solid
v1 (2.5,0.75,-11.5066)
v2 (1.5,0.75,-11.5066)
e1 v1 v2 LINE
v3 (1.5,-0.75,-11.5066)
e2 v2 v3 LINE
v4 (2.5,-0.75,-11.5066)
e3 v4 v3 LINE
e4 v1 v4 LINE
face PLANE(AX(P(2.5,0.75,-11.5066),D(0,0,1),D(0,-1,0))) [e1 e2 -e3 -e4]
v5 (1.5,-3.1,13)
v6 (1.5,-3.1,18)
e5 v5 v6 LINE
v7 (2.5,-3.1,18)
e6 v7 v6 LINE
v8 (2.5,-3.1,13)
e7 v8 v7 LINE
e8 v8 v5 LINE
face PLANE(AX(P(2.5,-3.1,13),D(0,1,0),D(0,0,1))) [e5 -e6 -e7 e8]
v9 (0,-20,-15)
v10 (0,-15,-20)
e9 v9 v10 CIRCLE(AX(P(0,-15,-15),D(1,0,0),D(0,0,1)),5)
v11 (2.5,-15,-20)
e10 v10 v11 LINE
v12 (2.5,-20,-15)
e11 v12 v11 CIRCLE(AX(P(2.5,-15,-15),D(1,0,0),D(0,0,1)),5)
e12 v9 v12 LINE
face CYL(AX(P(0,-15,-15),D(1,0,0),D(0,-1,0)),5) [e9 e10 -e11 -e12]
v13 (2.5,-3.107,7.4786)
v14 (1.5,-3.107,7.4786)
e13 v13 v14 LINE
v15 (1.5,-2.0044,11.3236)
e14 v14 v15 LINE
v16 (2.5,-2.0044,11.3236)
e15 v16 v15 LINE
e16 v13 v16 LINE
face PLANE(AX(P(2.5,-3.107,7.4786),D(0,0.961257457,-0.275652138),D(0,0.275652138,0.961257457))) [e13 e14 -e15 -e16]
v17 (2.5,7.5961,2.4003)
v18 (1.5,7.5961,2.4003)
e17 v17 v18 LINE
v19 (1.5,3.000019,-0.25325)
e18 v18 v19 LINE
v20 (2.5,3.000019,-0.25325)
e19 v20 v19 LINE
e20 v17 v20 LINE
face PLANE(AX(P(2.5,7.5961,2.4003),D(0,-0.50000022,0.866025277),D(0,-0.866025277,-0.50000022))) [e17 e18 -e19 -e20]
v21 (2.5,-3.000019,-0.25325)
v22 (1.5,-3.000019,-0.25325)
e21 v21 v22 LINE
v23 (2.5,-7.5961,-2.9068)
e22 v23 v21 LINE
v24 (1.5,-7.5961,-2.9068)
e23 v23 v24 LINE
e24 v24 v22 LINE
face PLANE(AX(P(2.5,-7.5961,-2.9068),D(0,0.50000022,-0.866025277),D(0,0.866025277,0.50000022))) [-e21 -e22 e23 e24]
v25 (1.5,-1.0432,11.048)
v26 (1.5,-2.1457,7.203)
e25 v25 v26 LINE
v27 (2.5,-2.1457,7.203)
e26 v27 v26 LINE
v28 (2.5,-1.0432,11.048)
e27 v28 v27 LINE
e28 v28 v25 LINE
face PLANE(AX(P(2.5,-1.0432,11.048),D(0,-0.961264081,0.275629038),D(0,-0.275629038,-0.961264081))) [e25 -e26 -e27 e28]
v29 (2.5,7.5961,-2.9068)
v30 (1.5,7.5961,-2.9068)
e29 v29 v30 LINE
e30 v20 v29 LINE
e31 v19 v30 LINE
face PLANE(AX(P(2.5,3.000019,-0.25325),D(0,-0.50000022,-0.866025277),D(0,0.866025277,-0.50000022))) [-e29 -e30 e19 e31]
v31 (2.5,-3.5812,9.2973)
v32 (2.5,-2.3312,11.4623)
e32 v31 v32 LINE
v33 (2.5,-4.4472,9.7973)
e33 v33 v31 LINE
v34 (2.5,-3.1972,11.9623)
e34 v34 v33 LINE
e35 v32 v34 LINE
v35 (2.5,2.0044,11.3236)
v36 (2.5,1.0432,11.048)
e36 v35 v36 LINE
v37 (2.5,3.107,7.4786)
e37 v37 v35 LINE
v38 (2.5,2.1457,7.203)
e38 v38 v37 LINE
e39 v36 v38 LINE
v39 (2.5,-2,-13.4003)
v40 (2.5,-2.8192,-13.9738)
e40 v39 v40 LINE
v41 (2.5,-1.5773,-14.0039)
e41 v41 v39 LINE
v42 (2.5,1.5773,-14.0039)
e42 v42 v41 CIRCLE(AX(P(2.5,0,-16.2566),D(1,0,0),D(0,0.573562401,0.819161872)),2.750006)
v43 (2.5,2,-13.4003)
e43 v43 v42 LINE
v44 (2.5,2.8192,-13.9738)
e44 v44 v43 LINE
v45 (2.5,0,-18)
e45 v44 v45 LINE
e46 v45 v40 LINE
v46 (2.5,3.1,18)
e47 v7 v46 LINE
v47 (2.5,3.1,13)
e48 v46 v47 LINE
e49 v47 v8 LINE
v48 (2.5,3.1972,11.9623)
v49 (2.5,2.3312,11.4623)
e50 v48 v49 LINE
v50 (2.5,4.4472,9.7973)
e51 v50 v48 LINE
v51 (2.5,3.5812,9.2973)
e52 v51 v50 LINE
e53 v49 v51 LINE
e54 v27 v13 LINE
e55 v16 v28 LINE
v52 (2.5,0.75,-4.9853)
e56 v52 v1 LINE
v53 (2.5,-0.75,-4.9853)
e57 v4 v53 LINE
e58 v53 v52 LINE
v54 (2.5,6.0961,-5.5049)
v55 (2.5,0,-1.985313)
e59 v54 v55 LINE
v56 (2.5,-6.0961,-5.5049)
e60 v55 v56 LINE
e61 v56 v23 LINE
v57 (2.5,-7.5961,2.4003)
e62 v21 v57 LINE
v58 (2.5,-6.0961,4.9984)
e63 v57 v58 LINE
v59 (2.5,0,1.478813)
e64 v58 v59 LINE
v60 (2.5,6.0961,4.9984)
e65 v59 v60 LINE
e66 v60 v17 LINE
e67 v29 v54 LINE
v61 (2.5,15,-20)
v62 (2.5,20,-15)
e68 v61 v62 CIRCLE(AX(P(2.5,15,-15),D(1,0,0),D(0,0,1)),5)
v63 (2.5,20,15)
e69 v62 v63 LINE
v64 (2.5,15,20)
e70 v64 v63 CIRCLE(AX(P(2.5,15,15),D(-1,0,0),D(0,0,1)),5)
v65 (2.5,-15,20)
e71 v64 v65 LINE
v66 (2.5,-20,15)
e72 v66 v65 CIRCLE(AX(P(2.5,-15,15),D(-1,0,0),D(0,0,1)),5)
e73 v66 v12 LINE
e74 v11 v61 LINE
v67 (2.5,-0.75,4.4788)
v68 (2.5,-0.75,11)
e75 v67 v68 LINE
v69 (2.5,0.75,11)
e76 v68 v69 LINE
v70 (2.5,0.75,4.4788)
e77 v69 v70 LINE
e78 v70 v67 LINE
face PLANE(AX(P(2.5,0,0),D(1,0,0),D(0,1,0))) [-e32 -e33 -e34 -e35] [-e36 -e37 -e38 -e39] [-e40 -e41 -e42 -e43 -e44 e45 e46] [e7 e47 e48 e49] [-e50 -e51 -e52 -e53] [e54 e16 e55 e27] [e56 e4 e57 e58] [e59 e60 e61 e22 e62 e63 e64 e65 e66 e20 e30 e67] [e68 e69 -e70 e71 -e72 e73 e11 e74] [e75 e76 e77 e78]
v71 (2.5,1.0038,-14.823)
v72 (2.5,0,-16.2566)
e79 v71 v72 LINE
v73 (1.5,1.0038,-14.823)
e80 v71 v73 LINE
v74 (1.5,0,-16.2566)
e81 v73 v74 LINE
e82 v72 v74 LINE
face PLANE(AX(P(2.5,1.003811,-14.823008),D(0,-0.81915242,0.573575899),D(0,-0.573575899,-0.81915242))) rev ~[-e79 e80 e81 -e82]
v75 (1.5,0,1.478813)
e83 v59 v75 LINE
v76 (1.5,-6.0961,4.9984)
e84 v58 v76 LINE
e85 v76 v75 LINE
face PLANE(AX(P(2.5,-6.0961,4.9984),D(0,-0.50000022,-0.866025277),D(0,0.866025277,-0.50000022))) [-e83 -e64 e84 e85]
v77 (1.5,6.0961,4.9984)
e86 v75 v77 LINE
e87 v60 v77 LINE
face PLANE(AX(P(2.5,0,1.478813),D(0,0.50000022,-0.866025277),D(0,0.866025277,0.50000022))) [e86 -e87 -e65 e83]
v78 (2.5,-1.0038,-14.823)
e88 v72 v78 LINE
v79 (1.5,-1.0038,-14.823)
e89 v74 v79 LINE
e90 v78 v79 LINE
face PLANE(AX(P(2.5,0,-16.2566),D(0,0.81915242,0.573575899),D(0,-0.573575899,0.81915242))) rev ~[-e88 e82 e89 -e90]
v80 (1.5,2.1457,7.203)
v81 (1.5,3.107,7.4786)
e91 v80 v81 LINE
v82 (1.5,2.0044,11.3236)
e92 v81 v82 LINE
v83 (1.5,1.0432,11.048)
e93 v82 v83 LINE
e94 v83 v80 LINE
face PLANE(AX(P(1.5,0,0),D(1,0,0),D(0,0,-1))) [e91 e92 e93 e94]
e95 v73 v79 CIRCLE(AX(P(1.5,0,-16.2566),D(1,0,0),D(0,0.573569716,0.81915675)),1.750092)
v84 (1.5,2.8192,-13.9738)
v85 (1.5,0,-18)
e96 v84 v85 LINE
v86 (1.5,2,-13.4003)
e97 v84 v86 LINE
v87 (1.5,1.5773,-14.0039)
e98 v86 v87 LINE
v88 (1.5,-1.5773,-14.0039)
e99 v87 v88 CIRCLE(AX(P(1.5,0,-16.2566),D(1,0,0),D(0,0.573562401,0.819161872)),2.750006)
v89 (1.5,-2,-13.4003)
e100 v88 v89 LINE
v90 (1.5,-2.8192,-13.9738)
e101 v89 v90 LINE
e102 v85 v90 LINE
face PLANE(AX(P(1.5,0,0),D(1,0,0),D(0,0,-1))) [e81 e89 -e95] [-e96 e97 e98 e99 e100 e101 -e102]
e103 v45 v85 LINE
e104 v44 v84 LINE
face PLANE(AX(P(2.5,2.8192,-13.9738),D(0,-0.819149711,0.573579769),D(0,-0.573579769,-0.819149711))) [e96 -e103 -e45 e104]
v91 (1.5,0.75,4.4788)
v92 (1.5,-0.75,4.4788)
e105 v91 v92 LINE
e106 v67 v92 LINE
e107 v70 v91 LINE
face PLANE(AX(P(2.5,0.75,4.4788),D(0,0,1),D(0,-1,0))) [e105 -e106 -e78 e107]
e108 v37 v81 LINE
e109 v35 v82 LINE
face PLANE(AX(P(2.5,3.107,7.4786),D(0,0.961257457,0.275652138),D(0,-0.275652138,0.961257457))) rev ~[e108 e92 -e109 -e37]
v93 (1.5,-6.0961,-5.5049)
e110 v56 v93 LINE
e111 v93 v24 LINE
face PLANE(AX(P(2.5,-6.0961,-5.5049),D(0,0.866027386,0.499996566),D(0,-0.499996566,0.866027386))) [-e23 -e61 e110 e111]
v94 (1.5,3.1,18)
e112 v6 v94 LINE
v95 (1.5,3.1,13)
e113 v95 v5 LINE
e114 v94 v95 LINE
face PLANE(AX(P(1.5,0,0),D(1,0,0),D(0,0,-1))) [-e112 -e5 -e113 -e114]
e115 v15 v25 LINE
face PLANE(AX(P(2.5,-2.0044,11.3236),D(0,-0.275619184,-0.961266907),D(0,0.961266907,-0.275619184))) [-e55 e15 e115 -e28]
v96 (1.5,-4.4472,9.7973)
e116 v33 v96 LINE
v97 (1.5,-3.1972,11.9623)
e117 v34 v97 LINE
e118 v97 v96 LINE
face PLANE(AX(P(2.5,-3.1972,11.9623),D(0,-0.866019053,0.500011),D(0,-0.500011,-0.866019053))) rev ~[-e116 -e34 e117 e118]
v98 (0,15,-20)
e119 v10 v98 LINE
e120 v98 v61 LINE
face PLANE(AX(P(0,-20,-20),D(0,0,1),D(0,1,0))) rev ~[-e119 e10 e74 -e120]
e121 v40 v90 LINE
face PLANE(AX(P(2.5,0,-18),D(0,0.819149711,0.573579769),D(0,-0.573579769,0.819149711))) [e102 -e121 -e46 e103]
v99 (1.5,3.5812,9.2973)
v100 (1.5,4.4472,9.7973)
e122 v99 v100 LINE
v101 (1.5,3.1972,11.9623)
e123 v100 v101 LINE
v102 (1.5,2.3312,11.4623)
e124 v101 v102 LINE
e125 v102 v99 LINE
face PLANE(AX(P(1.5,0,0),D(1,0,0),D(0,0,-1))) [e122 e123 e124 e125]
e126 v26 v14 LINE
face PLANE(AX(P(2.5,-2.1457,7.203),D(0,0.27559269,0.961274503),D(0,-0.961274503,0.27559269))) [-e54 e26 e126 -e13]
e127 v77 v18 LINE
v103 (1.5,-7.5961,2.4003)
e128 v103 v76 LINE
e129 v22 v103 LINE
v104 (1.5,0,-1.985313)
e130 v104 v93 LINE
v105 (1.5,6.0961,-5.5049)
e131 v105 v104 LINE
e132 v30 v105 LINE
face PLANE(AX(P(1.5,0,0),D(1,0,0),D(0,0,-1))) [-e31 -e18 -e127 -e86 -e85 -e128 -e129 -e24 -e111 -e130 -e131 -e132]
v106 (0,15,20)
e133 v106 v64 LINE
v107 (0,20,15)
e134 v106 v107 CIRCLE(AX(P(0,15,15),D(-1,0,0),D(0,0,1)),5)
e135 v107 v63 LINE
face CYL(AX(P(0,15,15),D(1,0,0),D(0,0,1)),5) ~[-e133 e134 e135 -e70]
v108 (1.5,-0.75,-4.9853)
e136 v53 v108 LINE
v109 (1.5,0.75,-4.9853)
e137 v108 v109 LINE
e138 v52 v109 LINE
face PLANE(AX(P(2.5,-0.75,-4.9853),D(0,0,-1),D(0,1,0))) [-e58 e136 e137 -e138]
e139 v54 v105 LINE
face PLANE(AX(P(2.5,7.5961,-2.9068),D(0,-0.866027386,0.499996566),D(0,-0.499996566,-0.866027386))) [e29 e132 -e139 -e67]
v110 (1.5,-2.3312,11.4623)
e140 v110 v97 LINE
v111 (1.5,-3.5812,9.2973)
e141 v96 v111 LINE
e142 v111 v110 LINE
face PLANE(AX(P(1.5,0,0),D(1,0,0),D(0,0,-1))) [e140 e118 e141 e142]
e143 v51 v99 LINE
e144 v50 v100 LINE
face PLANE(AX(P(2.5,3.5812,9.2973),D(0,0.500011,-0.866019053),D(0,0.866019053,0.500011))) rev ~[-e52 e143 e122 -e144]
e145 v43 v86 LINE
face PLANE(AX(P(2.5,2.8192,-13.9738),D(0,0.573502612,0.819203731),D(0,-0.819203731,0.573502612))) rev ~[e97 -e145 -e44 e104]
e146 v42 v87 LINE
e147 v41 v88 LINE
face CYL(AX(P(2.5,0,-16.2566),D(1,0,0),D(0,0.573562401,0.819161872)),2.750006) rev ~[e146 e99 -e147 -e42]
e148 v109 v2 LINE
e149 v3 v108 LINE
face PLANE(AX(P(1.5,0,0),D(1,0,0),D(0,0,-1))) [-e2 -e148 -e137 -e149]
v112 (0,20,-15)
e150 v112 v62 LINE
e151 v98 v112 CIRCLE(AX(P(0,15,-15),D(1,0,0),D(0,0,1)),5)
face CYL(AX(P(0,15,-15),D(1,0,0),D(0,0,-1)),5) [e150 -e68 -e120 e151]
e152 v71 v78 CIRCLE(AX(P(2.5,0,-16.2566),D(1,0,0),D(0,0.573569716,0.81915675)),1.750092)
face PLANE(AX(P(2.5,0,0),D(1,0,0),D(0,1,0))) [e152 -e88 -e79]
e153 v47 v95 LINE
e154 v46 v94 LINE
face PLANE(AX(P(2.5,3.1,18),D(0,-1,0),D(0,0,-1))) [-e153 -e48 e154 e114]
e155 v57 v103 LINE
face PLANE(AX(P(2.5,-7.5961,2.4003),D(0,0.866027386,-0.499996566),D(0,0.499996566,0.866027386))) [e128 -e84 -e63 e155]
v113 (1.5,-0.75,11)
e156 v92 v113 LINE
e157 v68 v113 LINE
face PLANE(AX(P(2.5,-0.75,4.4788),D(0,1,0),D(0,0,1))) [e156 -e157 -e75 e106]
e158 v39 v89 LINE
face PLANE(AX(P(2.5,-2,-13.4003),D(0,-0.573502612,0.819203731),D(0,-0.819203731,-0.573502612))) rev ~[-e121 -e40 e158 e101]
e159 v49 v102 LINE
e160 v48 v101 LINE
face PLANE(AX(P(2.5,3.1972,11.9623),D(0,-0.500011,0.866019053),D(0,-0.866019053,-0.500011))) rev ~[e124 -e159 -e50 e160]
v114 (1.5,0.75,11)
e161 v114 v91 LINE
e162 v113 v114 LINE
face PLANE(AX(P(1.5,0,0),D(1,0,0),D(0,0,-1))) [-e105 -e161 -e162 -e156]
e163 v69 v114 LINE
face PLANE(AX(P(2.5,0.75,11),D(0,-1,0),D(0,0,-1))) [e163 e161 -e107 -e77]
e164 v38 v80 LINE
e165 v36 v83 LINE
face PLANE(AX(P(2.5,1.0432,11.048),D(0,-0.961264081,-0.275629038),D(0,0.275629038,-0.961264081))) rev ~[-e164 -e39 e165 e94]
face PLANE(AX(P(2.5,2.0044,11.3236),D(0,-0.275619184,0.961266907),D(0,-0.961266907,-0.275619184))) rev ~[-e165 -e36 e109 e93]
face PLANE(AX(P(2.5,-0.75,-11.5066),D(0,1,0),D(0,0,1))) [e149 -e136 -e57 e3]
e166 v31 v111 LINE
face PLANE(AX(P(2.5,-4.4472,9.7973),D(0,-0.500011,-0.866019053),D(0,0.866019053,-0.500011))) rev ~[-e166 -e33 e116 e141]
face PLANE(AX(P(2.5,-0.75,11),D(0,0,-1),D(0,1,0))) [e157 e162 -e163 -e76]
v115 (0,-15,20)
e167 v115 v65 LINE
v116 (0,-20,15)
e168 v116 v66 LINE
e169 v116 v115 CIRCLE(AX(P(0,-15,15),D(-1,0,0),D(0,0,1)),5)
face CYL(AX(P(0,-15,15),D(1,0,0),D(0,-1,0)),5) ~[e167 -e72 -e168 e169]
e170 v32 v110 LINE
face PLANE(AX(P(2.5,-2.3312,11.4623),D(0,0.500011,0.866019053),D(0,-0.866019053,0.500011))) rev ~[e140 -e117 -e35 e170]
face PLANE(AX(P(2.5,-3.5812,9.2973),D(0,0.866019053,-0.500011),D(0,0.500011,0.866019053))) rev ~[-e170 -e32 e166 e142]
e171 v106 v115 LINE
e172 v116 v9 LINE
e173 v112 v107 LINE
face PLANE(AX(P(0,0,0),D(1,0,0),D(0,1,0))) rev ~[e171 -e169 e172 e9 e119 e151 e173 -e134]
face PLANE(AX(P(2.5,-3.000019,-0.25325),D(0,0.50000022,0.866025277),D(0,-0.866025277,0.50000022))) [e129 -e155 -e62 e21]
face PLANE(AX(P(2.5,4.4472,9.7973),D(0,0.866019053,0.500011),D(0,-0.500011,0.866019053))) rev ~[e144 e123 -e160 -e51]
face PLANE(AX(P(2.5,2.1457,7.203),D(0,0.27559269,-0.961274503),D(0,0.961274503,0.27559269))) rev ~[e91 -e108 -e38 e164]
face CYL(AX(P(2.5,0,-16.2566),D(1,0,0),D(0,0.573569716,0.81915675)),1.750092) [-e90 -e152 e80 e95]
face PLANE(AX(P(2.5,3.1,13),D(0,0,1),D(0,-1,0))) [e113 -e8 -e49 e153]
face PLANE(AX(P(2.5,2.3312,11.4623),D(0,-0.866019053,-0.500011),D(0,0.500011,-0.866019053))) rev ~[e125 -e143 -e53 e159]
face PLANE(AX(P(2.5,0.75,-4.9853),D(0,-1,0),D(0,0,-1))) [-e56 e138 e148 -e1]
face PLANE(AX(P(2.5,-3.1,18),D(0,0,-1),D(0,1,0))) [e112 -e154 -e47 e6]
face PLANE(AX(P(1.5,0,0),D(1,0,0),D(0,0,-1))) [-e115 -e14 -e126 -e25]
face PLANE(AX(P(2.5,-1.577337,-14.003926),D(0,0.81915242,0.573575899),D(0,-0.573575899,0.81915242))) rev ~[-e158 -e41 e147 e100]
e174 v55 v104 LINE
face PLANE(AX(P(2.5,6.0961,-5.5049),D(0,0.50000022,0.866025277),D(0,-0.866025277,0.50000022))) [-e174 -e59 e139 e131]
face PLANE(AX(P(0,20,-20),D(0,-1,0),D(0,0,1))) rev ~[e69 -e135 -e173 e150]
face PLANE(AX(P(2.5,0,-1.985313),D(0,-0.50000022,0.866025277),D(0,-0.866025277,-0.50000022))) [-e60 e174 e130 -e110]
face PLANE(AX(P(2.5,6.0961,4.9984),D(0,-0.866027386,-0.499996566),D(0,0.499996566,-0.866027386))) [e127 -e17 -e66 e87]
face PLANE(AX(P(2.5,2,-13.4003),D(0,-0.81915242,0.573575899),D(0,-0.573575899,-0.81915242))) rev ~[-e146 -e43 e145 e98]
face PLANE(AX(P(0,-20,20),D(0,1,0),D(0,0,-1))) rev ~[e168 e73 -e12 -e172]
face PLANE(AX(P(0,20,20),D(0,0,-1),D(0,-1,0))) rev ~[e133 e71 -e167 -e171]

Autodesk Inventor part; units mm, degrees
ref_plane "YZ Plane" through (0, 0, 0) normal (1, 0, 0) x (0, 1, 0)
ref_plane "XZ Plane" through (0, 0, 0) normal (0, 1, 0) x (-1, 0, 0)
ref_plane "XY Plane" through (0, 0, 0) normal (0, 0, 1) x (1, 0, 0)
sketch "Sketch1" plane through (0, 0, 0) normal (1, 0, 0) x (0, 1, 0)
  line L0 (-20, -20) -> (20, -20)
  line L1 (20, -20) -> (20, 20)
  line L2 (20, 20) -> (-20, 20)
  line L3 (-20, 20) -> (-20, -20)
  line L4 (-20, -20) -> (20, 20) construction
  line L5 (20, -20) -> (-20, 20) construction
  point P0 (0, 0)
  dimension "d1" = 40
  dimension "d2" = 40
extrude "Outline" add sketch "Sketch1" along normal blind 2.5
sketch "Sketch2" plane through (2.5, 0, 0) normal (1, 0, 0) x (0, 0, -1)
  line L0 (20, 20) -> (-20, 20) projected
  line L1 (20, -20) -> (20, 20) projected
  line L2 (-18, 3.1) -> (-13, 3.1)
  line L3 (-13, 3.1) -> (-13, -3.1)
  line L4 (-13, -3.1) -> (-18, -3.1)
  line L5 (-18, -3.1) -> (-18, 3.1)
  line L6 (-11, 0.75) -> (-4.4788, 0.75)
  line L7 (-4.4788, 0.75) -> (-4.4788, -0.75)
  line L8 (-4.4788, -0.75) -> (-11, -0.75)
  line L9 (-11, -0.75) -> (-11, 0.75)
  line L10 (13.9738, 2.8192) -> (18, 0)
  line L11 (18, 0) -> (13.9738, -2.8192)
  line L12 (13.9738, 2.8192) -> (13.4003, 2)
  line L13 (13.4003, 2) -> (16.2566, 0)
  line L14 (16.2566, 0) -> (13.4003, -2)
  line L15 (13.4003, -2) -> (13.9738, -2.8192)
  line L16 (-18, 0) -> (16.2566, 0) construction
  arc A0 (14.0039, 1.5773) -> (14.0039, -1.5773) centre (16.2566, 0) ccw
  arc A1 (14.823, 1.0038) -> (14.823, -1.0038) centre (16.2566, 0) ccw
  line L17 (4.9853, 0.75) -> (11.5066, 0.75)
  line L18 (11.5066, 0.75) -> (11.5066, -0.75)
  line L19 (11.5066, -0.75) -> (4.9853, -0.75)
  line L20 (4.9853, -0.75) -> (4.9853, 0.75)
  line L21 (-11.3236, 2.0044) -> (-11.048, 1.0432)
  line L22 (-11.048, 1.0432) -> (-7.203, 2.1457)
  line L23 (-7.203, 2.1457) -> (-7.4786, 3.107)
  line L24 (-7.4786, 3.107) -> (-11.3236, 2.0044)
  line L25 (-11.048, -1.0432) -> (-7.203, -2.1457)
  line L26 (-7.203, -2.1457) -> (-7.4786, -3.107)
  line L27 (-7.4786, -3.107) -> (-11.3236, -2.0044)
  line L28 (-11.3236, -2.0044) -> (-11.048, -1.0432)
  circle A2 centre (-16.5, 0) radius 5.5509 construction
  line L29 (-11.9623, 3.1972) -> (-11.4623, 2.3312)
  line L30 (-11.4623, 2.3312) -> (-9.2973, 3.5812)
  line L31 (-9.2973, 3.5812) -> (-9.7973, 4.4472)
  line L32 (-9.7973, 4.4472) -> (-11.9623, 3.1972)
  line L33 (-11.4623, -2.3312) -> (-11.9623, -3.1972)
  line L34 (-11.9623, -3.1972) -> (-9.7973, -4.4472)
  line L35 (-9.7973, -4.4472) -> (-9.2973, -3.5812)
  line L36 (-9.2973, -3.5812) -> (-11.4623, -2.3312)
  line L37 (-4.9984, 6.0961) -> (-2.4003, 7.5961)
  line L38 (-2.4003, 7.5961) -> (5.5049, -6.0961)
  line L39 (5.5049, -6.0961) -> (2.9068, -7.5961)
  line L40 (2.9068, -7.5961) -> (-4.9984, 6.0961)
  line L41 (-4.9984, -6.0961) -> (2.9068, 7.5961)
  line L42 (2.9068, 7.5961) -> (5.5049, 6.0961)
  line L43 (5.5049, 6.0961) -> (-2.4003, -7.5961)
  line L44 (-2.4003, -7.5961) -> (-4.9984, -6.0961)
  line L45 (-4.9984, 7.5961) -> (5.5049, 7.5961) construction
  line L46 (5.5049, 7.5961) -> (5.5049, -7.5961) construction
  line L47 (5.5049, -7.5961) -> (-4.9984, -7.5961) construction
  line L48 (-4.9984, -7.5961) -> (-4.9984, 7.5961) construction
  line L49 (-20, -20) -> (20, -20) projected
  line L50 (-20, 20) -> (-20, -20) projected
  line L51 (-4.9984, 6.0961) -> (-11, 6.0961) construction
  line L52 (5.5049, 6.0961) -> (11.5066, 6.0961) construction
  point P0 (0, 0)
  point P1 (-13, 0)
  point P2 (-11, 0)
  point P3 (13.5066, 0)
  point P4 (-1.0458, 0.75)
  point P5 (1.5523, 0.75)
  point P6 (0.2533, -7.5961)
  point P7 (11.5066, 0)
  point P8 (5.5049, 0)
  point P9 (4.9853, 0)
  point P10 (-1.4788, 0)
  point P11 (0.2533, -3)
  point P12 (1.9853, 0)
  point P13 (0.2533, 3)
  point P14 (20, 0)
  dimension "d12" = 35
  dimension "d13" = 35
  dimension "d14" = 4
  dimension "d15" = 1
  dimension "d16" = 1
  dimension "d17" = 2.75
  dimension "d18" = 1.5
  dimension "d19" = 2
  dimension "d21" = 5
  dimension "d22" = 2
  dimension "d23" = 1
  dimension "d24" = 1
  dimension "d25" = 3.5
  dimension "d26" = 16
  dimension "d27" = 16
  dimension "d28" = 4
  dimension "d29" = 2.5
  dimension "d30" = 1
  dimension "d31" = 14
  dimension "d32" = 14
  dimension "d33" = 1
  dimension "d34" = 2.5
  dimension "d35" = 6.2
  dimension "d36" = 60
  dimension "d37" = 60
  dimension "d38" = 3
  dimension "d40" = 2
  dimension "d41" = 2
  dimension "d42" = 3
  dimension "d45" = 15.1922
extrude "Extrusion2" cut sketch "Sketch2" against normal blind 1 contours L2 L3 L4 L5 | L6 L7 L8 L9 | L10 L11 L15 L14 L13 L12 | L13 A1 L14 A0 | L17 L18 L19 L20 | L24 L23 L22 L21 | L25 L26 L27 L28 | L32 L31 L30 L29 | L36 L35 L34 L33 | L37 L38 L41 L40 | L41 L38 L43 L40 | L40 L43 L44 L41 | L41 L42 L43 L38 | L43 L38 L39 L40
sketch "Sketch4" plane through (1.5, 0, 0) normal (1, 0, 0) x (0, 0, -1)
  line L0 (-11.3236, 2.0044) -> (-11.048, 1.0432) projected
  line L1 (-11.048, 1.0432) -> (-7.203, 2.1457) projected
  line L2 (-7.203, 2.1457) -> (-7.4786, 3.107) projected
  line L3 (-7.4786, 3.107) -> (-11.3236, 2.0044) projected
  line L4 (0.2533, -3) -> (2.9068, -7.5961) projected
  line L5 (2.9068, -7.5961) -> (5.5049, -6.0961) projected
  line L6 (5.5049, -6.0961) -> (1.9853, 0) projected
  line L7 (1.9853, 0) -> (5.5049, 6.0961) projected
  line L8 (5.5049, 6.0961) -> (2.9068, 7.5961) projected
  line L9 (2.9068, 7.5961) -> (0.2533, 3) projected
  line L10 (0.2533, 3) -> (-2.4003, 7.5961) projected
  line L11 (-2.4003, 7.5961) -> (-4.9984, 6.0961) projected
  line L12 (-4.9984, 6.0961) -> (-1.4788, 0) projected
  line L13 (-1.4788, 0) -> (-4.9984, -6.0961) projected
  line L14 (-4.9984, -6.0961) -> (-2.4003, -7.5961) projected
  line L15 (-2.4003, -7.5961) -> (0.2533, -3) projected
  line L16 (11.5066, 0.75) -> (4.9853, 0.75) projected
  line L17 (4.9853, 0.75) -> (4.9853, -0.75) projected
  line L18 (4.9853, -0.75) -> (11.5066, -0.75) projected
  line L19 (11.5066, -0.75) -> (11.5066, 0.75) projected
  line L20 (-9.2973, 3.5812) -> (-9.7973, 4.4472) projected
  line L21 (-9.7973, 4.4472) -> (-11.9623, 3.1972) projected
  line L22 (-11.9623, 3.1972) -> (-11.4623, 2.3312) projected
  line L23 (-11.4623, 2.3312) -> (-9.2973, 3.5812) projected
  line L24 (-4.4788, -0.75) -> (-4.4788, 0.75) projected
  line L25 (-4.4788, 0.75) -> (-11, 0.75) projected
  line L26 (-11, 0.75) -> (-11, -0.75) projected
  line L27 (-11, -0.75) -> (-4.4788, -0.75) projected
  line L28 (-9.7973, -4.4472) -> (-9.2973, -3.5812) projected
  line L29 (-9.2973, -3.5812) -> (-11.4623, -2.3312) projected
  line L30 (-11.4623, -2.3312) -> (-11.9623, -3.1972) projected
  line L31 (-11.9623, -3.1972) -> (-9.7973, -4.4472) projected
  line L32 (14.823, 1.0038) -> (16.2566, 0) projected
  line L33 (16.2566, 0) -> (14.823, -1.0038) projected
  arc A0 (14.823, 1.0038) -> (14.823, -1.0038) centre (16.2566, 0) ccw projected
  line L34 (13.9738, -2.8192) -> (18, 0) projected
  line L35 (18, 0) -> (13.9738, 2.8192) projected
  line L36 (13.9738, 2.8192) -> (13.4003, 2) projected
  line L37 (13.4003, 2) -> (14.0039, 1.5773) projected
  arc A1 (14.0039, 1.5773) -> (14.0039, -1.5773) centre (16.2566, 0) ccw projected
  line L38 (14.0039, -1.5773) -> (13.4003, -2) projected
  line L39 (13.4003, -2) -> (13.9738, -2.8192) projected
  line L40 (-11.3236, -2.0044) -> (-7.4786, -3.107) projected
  line L41 (-7.4786, -3.107) -> (-7.203, -2.1457) projected
  line L42 (-7.203, -2.1457) -> (-11.048, -1.0432) projected
  line L43 (-11.048, -1.0432) -> (-11.3236, -2.0044) projected
  line L44 (-13, -3.1) -> (-13, 3.1) projected
  line L45 (-13, 3.1) -> (-18, 3.1) projected
  line L46 (-18, 3.1) -> (-18, -3.1) projected
  line L47 (-18, -3.1) -> (-13, -3.1) projected
  line L48 (20, 20) -> (20, -20) projected
  line L49 (20, -20) -> (-20, -20) projected
  line L50 (-20, -20) -> (-20, 20) projected
  line L51 (-20, 20) -> (20, 20) projected
  point P0 (0, 0)
fillet "Fillet1" radius 5 4 edges at (1.25, 20, -20) (1.25, -20, -20) (1.25, 20, 20) (1.25, -20, 20)
sketch "Sketch5" plane through (2.5, 0, 0) normal (1, 0, 0) x (0, 0, -1)
  arc A0 (-20, -15) -> (-15, -20) centre (-15, -15) ccw projected
  line L0 (-20, -15) -> (-20, 15) projected
  arc A1 (-15, 20) -> (-20, 15) centre (-15, 15) ccw projected
  line L1 (-15, 20) -> (15, 20) projected
  arc A2 (20, 15) -> (15, 20) centre (15, 15) ccw projected
  line L2 (20, 15) -> (20, -15) projected
  arc A3 (15, -20) -> (20, -15) centre (15, -15) ccw projected
  line L3 (15, -20) -> (-15, -20) projected
  line L4 (-13, -3.1) -> (-13, 3.1) projected
  line L5 (-13, 3.1) -> (-18, 3.1) projected
  line L6 (-18, 3.1) -> (-18, -3.1) projected
  line L7 (-18, -3.1) -> (-13, -3.1) projected
  line L8 (-11.3236, -2.0044) -> (-7.4786, -3.107) projected
  line L9 (-7.4786, -3.107) -> (-7.203, -2.1457) projected
  line L10 (-7.203, -2.1457) -> (-11.048, -1.0432) projected
  line L11 (-11.048, -1.0432) -> (-11.3236, -2.0044) projected
  line L12 (13.9738, -2.8192) -> (18, 0) projected
  line L13 (18, 0) -> (13.9738, 2.8192) projected
  line L14 (13.9738, 2.8192) -> (13.4003, 2) projected
  line L15 (13.4003, 2) -> (14.0039, 1.5773) projected
  arc A4 (14.0039, 1.5773) -> (14.0039, -1.5773) centre (16.2566, 0) ccw projected
  line L16 (14.0039, -1.5773) -> (13.4003, -2) projected
  line L17 (13.4003, -2) -> (13.9738, -2.8192) projected
  line L18 (-9.7973, -4.4472) -> (-9.2973, -3.5812) projected
  line L19 (-9.2973, -3.5812) -> (-11.4623, -2.3312) projected
  line L20 (-11.4623, -2.3312) -> (-11.9623, -3.1972) projected
  line L21 (-11.9623, -3.1972) -> (-9.7973, -4.4472) projected
  line L22 (-4.4788, -0.75) -> (-4.4788, 0.75) projected
  line L23 (-4.4788, 0.75) -> (-11, 0.75) projected
  line L24 (-11, 0.75) -> (-11, -0.75) projected
  line L25 (-11, -0.75) -> (-4.4788, -0.75) projected
  line L26 (-9.2973, 3.5812) -> (-9.7973, 4.4472) projected
  line L27 (-9.7973, 4.4472) -> (-11.9623, 3.1972) projected
  line L28 (-11.9623, 3.1972) -> (-11.4623, 2.3312) projected
  line L29 (-11.4623, 2.3312) -> (-9.2973, 3.5812) projected
  line L30 (11.5066, 0.75) -> (4.9853, 0.75) projected
  line L31 (4.9853, 0.75) -> (4.9853, -0.75) projected
  line L32 (4.9853, -0.75) -> (11.5066, -0.75) projected
  line L33 (11.5066, -0.75) -> (11.5066, 0.75) projected
  line L34 (0.2533, -3) -> (2.9068, -7.5961) projected
  line L35 (2.9068, -7.5961) -> (5.5049, -6.0961) projected
  line L36 (5.5049, -6.0961) -> (1.9853, 0) projected
  line L37 (1.9853, 0) -> (5.5049, 6.0961) projected
  line L38 (5.5049, 6.0961) -> (2.9068, 7.5961) projected
  line L39 (2.9068, 7.5961) -> (0.2533, 3) projected
  line L40 (0.2533, 3) -> (-2.4003, 7.5961) projected
  line L41 (-2.4003, 7.5961) -> (-4.9984, 6.0961) projected
  line L42 (-4.9984, 6.0961) -> (-1.4788, 0) projected
  line L43 (-1.4788, 0) -> (-4.9984, -6.0961) projected
  line L44 (-4.9984, -6.0961) -> (-2.4003, -7.5961) projected
  line L45 (-2.4003, -7.5961) -> (0.2533, -3) projected
  line L46 (-11.3236, 2.0044) -> (-11.048, 1.0432) projected
  line L47 (-11.048, 1.0432) -> (-7.203, 2.1457) projected
  line L48 (-7.203, 2.1457) -> (-7.4786, 3.107) projected
  line L49 (-7.4786, 3.107) -> (-11.3236, 2.0044) projected
  line L50 (14.823, 1.0038) -> (16.2566, 0) projected
  line L51 (16.2566, 0) -> (14.823, -1.0038) projected
  arc A5 (14.823, 1.0038) -> (14.823, -1.0038) centre (16.2566, 0) ccw projected
  point P0 (0, 0)
properties part number "LightGateCard_3DPrint"
